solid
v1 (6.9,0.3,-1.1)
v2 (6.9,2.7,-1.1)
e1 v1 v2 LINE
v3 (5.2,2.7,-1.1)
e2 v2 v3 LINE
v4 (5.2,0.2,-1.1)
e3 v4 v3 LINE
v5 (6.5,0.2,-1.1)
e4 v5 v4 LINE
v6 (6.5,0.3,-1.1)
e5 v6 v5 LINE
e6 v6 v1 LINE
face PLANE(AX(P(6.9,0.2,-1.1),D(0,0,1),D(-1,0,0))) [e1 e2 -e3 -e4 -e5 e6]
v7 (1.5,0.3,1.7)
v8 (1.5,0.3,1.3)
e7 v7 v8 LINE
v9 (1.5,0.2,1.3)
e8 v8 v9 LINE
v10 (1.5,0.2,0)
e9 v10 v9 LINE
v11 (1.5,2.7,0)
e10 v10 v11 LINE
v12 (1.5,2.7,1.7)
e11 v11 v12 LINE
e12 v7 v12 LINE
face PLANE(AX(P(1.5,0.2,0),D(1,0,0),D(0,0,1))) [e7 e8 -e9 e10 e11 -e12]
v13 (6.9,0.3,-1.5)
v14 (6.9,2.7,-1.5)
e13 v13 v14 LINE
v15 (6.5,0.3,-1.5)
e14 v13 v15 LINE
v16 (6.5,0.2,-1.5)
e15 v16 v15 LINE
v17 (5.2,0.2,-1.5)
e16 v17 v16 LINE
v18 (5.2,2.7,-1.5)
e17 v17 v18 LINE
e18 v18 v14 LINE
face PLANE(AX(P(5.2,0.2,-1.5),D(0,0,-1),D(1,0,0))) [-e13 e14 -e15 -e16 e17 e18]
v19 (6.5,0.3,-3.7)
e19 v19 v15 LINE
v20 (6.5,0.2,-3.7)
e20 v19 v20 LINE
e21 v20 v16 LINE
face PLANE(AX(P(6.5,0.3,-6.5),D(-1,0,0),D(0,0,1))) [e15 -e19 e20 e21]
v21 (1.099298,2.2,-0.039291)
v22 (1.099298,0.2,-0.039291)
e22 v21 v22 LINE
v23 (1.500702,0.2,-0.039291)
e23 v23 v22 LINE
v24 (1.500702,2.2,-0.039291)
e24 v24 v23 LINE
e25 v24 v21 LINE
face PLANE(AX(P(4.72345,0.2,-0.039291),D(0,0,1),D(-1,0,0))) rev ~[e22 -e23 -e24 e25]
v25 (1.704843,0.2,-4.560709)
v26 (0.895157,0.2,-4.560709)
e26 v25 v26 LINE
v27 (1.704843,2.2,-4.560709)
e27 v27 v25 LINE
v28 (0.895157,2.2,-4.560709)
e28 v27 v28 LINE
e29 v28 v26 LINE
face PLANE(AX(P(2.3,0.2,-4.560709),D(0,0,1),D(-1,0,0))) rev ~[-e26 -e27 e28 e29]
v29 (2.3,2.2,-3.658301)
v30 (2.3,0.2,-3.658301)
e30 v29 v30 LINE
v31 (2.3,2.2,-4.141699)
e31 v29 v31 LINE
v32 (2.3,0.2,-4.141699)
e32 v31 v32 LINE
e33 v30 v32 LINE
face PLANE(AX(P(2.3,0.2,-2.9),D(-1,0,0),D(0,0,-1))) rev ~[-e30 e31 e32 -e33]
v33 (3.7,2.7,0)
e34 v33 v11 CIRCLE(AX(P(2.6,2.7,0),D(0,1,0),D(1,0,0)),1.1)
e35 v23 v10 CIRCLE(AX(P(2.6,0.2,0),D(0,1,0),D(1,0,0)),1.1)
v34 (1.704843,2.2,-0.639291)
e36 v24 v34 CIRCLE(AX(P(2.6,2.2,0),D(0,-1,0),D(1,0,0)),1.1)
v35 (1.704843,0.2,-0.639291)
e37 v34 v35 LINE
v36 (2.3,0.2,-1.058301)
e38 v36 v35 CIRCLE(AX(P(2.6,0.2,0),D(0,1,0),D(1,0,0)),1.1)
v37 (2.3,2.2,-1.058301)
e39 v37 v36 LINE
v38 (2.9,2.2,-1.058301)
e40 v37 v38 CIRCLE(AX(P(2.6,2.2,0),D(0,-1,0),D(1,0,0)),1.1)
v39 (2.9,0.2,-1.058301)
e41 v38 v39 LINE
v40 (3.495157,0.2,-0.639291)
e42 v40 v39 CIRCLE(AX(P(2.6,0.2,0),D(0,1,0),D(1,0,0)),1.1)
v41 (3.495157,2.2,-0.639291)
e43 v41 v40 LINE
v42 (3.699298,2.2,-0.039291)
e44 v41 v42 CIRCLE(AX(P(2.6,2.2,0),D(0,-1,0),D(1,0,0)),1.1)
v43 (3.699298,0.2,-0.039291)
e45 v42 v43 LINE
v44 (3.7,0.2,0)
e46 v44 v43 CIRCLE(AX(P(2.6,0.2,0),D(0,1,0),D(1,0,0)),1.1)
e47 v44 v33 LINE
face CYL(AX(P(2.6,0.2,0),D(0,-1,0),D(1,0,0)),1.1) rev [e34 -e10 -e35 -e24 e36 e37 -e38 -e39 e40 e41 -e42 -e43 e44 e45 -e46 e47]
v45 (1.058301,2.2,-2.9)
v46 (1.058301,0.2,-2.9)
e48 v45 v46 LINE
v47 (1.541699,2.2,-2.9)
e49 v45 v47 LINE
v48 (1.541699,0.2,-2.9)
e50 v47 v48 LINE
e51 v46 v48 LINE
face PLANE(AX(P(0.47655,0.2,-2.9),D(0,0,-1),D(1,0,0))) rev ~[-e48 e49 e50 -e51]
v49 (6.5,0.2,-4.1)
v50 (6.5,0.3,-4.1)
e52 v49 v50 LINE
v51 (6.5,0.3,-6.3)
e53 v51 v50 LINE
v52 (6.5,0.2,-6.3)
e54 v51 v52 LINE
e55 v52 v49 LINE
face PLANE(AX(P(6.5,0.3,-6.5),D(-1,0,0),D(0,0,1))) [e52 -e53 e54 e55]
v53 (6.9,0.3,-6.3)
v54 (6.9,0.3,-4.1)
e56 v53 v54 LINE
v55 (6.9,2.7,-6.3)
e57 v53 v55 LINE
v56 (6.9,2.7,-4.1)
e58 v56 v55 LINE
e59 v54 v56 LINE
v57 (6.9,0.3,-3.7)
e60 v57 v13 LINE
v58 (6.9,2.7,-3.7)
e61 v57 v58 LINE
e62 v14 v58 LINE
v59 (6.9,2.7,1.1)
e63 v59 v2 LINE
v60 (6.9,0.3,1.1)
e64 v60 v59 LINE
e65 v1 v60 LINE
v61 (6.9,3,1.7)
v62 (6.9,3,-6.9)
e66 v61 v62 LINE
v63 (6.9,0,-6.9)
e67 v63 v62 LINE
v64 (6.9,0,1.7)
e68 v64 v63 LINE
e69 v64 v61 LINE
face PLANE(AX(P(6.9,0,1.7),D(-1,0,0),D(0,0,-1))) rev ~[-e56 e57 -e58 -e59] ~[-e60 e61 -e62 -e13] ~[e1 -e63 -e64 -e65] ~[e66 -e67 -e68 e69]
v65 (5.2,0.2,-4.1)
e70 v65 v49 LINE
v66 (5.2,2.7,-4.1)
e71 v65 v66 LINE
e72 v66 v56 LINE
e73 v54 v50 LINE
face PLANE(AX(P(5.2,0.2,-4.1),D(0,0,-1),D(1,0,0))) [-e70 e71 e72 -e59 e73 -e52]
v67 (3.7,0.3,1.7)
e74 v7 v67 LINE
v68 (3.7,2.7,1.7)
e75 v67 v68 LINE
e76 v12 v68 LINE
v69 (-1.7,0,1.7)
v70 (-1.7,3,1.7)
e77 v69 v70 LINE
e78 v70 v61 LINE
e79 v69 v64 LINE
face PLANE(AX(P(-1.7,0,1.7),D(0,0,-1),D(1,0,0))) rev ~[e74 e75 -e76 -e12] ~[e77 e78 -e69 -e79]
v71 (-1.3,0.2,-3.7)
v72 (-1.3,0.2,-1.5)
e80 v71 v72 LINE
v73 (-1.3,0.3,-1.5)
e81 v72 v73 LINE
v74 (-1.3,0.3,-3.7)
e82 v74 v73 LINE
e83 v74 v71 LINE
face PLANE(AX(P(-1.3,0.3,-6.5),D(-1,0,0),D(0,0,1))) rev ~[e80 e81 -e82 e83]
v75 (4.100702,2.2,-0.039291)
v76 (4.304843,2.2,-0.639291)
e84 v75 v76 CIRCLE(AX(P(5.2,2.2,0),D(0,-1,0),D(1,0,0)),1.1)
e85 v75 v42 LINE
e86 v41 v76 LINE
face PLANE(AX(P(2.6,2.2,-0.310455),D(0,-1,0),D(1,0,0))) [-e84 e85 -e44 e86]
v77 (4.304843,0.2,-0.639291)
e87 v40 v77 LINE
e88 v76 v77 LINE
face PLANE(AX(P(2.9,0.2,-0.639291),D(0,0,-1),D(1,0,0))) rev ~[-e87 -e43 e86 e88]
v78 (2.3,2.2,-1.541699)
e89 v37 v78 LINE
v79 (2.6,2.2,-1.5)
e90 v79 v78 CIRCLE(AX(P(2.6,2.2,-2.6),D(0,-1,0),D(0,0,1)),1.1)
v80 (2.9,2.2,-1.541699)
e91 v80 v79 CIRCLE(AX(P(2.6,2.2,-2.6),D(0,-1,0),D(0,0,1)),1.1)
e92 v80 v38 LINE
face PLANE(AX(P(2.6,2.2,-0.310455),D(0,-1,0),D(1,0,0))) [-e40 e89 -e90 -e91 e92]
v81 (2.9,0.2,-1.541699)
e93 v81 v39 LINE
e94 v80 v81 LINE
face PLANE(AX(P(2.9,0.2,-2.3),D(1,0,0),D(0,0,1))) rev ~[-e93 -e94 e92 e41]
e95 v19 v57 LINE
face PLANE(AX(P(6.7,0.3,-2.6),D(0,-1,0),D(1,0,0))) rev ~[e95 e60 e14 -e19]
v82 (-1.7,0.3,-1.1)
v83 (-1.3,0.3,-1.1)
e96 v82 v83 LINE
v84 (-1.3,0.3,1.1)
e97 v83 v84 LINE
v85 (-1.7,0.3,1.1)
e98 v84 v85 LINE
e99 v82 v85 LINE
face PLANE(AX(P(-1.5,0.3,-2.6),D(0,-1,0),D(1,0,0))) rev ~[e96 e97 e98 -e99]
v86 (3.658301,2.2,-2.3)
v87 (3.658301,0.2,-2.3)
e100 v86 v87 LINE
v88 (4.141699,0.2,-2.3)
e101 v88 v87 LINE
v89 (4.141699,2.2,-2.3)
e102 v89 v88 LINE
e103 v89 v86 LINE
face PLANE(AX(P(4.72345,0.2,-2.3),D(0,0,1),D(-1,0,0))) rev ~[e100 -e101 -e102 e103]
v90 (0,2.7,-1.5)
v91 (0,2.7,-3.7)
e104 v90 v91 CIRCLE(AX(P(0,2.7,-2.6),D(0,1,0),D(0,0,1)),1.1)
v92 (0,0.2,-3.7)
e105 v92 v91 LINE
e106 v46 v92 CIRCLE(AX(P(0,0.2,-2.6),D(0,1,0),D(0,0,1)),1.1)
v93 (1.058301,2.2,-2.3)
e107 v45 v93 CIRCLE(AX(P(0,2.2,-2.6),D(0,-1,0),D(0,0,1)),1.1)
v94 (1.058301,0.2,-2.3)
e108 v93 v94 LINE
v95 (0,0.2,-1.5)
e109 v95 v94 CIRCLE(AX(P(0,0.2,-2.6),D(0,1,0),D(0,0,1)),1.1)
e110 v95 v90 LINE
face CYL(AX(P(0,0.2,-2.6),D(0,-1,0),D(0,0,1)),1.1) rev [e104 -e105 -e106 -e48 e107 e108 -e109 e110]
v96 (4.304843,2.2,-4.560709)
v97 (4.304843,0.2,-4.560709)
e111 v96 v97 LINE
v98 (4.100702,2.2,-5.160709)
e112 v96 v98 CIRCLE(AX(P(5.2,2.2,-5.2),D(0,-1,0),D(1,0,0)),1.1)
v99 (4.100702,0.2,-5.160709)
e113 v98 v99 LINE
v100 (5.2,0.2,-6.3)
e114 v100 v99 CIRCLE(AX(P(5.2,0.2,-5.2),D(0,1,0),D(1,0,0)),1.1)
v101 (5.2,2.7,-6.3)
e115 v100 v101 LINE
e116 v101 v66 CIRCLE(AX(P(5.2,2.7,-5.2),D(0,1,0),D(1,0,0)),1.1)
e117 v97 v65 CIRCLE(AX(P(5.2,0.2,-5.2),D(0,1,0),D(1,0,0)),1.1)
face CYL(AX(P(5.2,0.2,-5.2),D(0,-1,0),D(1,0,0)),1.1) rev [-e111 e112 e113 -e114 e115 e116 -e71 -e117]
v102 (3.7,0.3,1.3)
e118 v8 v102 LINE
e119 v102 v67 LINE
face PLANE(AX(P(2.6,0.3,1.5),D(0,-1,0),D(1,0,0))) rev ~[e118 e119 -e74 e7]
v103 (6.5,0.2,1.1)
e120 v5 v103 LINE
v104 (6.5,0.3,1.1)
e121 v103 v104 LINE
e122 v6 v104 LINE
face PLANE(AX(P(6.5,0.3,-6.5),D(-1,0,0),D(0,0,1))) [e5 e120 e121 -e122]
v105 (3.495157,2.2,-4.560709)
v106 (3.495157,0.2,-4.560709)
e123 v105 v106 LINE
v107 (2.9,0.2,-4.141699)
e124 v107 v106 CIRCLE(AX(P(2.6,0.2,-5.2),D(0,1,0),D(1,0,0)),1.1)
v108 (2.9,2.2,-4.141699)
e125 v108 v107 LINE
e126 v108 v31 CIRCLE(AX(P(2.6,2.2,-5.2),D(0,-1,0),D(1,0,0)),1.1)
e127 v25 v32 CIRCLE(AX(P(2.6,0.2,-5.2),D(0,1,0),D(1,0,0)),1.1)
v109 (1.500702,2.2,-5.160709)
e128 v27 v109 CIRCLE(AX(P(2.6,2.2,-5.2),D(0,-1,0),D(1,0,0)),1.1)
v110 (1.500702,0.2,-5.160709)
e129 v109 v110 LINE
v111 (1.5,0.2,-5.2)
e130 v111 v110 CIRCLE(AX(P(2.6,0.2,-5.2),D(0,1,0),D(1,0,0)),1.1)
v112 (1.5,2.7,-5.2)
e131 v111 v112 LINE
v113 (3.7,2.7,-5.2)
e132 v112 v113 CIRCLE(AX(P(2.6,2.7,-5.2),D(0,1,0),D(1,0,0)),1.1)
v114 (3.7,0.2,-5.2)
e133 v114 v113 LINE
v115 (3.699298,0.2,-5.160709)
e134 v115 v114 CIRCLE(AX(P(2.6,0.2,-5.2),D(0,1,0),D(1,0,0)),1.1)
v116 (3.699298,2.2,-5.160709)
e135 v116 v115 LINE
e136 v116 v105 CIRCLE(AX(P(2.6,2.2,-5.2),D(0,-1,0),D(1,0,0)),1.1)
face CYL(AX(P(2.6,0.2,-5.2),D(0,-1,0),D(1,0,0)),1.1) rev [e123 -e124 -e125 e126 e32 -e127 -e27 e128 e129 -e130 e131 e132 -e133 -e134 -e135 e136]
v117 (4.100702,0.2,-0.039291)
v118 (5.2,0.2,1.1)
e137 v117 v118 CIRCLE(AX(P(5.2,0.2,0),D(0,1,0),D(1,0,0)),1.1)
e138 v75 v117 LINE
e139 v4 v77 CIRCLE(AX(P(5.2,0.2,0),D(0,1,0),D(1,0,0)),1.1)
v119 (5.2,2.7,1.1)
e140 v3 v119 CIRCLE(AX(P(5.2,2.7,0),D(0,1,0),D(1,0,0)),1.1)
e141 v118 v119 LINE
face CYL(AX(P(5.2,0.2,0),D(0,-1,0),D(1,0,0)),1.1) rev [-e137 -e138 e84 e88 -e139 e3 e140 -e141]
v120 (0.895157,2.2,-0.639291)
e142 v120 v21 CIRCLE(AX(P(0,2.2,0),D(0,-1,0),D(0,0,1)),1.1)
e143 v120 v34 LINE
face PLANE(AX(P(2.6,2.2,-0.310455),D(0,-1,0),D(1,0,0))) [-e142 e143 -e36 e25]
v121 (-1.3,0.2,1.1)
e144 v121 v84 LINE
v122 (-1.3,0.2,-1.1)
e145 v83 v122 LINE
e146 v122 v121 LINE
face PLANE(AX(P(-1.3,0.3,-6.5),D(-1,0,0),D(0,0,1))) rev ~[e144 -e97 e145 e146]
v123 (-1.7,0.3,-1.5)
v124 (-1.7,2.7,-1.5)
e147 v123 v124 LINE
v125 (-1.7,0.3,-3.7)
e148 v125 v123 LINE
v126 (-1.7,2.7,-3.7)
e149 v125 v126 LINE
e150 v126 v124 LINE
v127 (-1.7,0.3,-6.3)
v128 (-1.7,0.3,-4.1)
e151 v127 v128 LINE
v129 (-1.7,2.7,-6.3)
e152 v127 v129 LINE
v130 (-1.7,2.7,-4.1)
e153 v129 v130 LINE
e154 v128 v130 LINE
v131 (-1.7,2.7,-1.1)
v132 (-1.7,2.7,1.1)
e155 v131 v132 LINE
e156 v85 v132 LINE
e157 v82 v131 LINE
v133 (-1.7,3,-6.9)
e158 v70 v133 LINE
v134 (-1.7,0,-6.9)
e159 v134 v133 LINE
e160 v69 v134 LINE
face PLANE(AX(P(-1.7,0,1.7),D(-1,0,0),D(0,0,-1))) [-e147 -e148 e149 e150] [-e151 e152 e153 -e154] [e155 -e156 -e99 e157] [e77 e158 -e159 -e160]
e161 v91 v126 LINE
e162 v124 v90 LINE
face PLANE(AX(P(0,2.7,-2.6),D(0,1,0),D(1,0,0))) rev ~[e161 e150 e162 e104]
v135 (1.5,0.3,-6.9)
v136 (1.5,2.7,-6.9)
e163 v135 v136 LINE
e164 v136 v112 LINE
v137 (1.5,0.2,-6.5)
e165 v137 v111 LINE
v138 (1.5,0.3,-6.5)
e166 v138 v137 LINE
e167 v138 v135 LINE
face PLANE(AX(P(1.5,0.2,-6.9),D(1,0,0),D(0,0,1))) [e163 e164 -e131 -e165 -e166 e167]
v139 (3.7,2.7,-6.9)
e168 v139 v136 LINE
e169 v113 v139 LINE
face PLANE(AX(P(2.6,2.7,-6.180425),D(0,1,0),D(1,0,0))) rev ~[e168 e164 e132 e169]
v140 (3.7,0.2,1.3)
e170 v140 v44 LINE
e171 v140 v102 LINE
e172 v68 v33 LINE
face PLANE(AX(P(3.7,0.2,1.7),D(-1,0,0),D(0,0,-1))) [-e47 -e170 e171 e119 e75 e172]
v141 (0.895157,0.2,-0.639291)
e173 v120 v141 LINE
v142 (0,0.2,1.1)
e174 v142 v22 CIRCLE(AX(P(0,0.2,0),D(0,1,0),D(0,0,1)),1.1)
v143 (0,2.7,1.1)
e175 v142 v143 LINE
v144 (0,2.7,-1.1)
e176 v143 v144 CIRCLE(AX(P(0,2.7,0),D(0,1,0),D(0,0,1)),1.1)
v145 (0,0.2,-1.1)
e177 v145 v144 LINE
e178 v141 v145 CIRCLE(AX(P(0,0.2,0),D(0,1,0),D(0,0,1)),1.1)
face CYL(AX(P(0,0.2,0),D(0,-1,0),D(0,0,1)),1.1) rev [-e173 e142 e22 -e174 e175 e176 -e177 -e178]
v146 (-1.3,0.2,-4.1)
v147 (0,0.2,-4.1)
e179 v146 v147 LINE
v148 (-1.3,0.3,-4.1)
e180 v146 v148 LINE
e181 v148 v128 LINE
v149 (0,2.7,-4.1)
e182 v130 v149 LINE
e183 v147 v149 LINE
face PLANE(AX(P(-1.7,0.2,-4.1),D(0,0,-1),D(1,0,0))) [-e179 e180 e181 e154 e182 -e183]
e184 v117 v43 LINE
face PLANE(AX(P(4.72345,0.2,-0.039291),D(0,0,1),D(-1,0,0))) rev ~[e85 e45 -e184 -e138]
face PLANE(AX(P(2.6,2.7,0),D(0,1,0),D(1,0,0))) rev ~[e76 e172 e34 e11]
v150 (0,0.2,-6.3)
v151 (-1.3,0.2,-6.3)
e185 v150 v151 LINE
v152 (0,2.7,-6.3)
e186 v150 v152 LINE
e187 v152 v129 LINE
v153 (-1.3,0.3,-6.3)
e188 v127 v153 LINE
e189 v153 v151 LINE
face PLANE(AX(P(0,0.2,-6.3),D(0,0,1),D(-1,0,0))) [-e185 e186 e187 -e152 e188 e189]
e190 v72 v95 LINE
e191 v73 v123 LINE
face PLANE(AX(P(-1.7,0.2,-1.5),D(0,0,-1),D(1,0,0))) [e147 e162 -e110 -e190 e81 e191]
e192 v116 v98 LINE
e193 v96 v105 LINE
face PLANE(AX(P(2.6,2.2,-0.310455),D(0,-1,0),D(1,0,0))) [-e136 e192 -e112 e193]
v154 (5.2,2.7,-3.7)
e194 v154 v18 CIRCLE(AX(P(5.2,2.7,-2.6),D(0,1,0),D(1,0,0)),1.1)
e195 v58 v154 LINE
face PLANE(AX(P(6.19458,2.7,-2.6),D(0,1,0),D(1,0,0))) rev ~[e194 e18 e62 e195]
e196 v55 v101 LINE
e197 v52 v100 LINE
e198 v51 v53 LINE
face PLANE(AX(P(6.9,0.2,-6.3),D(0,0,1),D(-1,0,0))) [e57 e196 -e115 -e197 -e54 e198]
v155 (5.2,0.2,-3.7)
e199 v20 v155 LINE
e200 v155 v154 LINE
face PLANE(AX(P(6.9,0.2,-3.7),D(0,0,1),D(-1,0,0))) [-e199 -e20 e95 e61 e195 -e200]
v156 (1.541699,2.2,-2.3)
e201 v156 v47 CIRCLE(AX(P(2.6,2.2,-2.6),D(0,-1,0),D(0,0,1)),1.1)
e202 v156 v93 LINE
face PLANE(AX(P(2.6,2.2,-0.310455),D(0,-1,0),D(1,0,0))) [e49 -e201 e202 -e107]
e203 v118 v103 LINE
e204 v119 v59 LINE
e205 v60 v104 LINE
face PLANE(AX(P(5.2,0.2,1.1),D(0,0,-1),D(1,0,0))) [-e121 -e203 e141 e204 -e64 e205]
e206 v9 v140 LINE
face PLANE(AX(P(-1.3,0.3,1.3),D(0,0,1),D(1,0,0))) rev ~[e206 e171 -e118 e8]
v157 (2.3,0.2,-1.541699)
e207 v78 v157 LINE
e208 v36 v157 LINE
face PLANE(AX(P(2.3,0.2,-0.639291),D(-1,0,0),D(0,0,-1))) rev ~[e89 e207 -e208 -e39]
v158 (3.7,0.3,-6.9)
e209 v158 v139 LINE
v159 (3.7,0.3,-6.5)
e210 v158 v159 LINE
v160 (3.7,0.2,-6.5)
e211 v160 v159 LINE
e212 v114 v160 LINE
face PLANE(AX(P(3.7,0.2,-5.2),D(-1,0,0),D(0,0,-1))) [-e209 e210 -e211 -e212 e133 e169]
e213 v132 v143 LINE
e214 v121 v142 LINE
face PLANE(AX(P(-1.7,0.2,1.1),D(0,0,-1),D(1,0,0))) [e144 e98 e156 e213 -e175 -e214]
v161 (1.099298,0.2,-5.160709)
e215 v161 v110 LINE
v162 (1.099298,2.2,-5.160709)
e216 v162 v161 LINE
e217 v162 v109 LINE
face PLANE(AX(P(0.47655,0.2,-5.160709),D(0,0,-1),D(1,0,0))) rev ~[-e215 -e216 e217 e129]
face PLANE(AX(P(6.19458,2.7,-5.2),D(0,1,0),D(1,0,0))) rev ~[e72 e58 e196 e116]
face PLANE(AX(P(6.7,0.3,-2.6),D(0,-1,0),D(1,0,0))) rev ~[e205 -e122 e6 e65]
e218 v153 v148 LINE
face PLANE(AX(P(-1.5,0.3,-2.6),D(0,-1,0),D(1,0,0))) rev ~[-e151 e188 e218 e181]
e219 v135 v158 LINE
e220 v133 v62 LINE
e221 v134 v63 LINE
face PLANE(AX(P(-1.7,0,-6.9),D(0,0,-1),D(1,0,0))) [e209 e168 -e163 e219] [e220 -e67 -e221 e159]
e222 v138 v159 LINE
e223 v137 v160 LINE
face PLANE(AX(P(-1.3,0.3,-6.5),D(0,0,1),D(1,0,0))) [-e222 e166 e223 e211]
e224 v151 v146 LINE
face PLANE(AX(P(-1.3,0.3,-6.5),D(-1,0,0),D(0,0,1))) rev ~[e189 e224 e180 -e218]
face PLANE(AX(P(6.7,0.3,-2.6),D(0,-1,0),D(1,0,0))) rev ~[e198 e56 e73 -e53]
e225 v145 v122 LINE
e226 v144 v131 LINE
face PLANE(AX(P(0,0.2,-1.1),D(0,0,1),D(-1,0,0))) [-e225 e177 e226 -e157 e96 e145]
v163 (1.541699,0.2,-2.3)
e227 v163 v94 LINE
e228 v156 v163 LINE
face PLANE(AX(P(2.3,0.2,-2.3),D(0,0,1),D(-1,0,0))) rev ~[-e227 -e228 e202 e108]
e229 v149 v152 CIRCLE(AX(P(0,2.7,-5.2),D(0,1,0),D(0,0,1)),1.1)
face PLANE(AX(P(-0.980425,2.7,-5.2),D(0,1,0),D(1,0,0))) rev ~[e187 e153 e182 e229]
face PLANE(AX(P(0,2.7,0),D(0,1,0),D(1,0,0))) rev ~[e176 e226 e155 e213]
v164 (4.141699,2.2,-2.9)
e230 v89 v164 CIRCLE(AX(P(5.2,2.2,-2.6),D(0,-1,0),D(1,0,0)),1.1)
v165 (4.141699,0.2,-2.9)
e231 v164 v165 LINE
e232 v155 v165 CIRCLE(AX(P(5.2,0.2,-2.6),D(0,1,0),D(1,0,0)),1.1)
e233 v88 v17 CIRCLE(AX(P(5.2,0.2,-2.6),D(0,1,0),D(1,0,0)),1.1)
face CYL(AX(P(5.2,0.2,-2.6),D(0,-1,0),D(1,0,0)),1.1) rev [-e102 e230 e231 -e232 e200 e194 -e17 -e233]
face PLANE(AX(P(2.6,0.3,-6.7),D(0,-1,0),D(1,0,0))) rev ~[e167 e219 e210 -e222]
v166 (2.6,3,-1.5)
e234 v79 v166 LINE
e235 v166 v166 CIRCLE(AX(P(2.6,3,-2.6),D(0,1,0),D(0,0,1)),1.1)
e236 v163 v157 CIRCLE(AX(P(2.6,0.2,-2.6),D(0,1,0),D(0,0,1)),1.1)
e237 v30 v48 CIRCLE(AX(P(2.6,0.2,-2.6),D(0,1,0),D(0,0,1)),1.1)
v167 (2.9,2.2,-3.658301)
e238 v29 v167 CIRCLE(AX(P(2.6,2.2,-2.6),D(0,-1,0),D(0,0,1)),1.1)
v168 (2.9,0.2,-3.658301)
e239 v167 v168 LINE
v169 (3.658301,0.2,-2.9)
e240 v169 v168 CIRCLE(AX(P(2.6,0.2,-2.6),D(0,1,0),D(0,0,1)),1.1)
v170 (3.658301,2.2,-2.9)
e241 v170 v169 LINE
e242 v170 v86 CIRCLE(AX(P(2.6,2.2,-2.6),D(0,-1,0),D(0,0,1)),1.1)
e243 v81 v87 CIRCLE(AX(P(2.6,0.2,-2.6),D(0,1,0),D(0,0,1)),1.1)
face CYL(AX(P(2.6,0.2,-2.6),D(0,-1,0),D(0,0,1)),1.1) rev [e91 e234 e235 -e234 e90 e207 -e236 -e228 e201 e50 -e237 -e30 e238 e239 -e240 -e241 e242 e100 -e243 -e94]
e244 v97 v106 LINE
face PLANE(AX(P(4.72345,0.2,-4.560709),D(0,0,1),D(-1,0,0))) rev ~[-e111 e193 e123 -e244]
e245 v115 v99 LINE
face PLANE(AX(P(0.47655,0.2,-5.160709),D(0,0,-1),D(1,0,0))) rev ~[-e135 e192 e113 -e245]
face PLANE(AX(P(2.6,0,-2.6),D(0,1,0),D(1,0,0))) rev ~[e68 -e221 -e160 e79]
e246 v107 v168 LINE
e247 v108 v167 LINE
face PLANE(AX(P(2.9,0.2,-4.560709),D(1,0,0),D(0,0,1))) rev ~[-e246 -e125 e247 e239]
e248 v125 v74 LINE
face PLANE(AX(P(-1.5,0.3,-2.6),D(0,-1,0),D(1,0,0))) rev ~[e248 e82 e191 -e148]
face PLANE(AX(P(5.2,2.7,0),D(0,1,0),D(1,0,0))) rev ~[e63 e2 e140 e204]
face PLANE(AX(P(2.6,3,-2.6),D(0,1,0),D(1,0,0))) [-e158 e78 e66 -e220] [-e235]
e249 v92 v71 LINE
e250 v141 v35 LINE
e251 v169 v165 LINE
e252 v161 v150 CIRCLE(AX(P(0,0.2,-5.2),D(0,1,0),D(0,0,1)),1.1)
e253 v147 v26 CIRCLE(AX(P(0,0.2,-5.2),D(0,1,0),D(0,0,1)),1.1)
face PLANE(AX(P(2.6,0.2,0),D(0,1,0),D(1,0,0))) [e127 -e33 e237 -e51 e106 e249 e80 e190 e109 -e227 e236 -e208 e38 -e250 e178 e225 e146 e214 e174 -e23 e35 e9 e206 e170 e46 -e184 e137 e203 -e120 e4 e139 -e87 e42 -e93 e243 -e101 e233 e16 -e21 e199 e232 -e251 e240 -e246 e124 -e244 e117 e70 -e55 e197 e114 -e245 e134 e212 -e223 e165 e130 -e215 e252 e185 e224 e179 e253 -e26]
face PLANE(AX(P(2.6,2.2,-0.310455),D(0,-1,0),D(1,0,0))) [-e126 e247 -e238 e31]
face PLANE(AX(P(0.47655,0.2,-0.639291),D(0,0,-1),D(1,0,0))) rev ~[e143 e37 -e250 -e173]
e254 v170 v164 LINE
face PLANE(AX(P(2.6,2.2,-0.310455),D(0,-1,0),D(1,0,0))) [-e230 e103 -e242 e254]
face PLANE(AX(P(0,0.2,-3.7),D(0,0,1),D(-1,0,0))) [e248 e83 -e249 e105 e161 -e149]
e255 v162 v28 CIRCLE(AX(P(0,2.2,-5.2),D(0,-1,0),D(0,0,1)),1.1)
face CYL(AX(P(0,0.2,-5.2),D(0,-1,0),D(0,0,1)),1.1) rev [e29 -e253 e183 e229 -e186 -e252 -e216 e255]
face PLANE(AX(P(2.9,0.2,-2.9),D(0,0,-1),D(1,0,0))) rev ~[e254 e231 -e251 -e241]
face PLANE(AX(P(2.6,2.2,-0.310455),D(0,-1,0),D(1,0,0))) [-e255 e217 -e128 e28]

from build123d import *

# Parameters (mm, degrees)
SKETCH1_W           = 8.6
SKETCH1_H           = 8.6
BOSS_EXTRUDE1_DEPTH = 3
CUT_EXTRUDE1_START  = 0.2
SKETCH1_14_R        = 1.1
CUT_EXTRUDE1_DEPTH  = 2.5
CUT_EXTRUDE2_START  = 0.2
SKETCH1_15_R        = 1.1
CUT_EXTRUDE2_DEPTH  = 2.8
BOSS_EXTRUDE2_START = -0.3
SKETCH2_W           = 7.8
SKETCH2_H           = 0.4
SKETCH2_W_2         = 0.4
SKETCH2_H_2         = 7.8
BOSS_EXTRUDE2_DEPTH = 0.1
CUT_EXTRUDE3_START  = -0.2
SKETCH3_W           = 0.6
SKETCH3_H           = 0.162741788
SKETCH3_H_2         = 0.6
CUT_EXTRUDE3_DEPTH  = 2


with BuildPart() as part:
    # Sketch1 → Boss-Extrude1 (new body)
    with BuildSketch(Plane(origin=(0, 0, 0), x_dir=(1, 0, 0), z_dir=(0, 1, 0))):
        with Locations((2.6, 2.6)):
            Rectangle(SKETCH1_W, SKETCH1_H)
    extrude(amount=BOSS_EXTRUDE1_DEPTH)

    # Sketch1<14> → Cut-Extrude1 (cut)
    with BuildSketch(Plane(origin=(0, 0, 0), x_dir=(1, 0, 0), z_dir=(0, 1, 0)).offset(CUT_EXTRUDE1_START)):
        Circle(SKETCH1_14_R)
        with BuildLine():
            Line((0, 1.1), (-1.7, 1.1))
            Line((-1.7, 1.1), (-1.7, -1.1))
            Line((-1.7, -1.1), (-0.1, -1.1))
            Line((-0.1, -1.1), (0, -1.1))
            ThreePointArc((0, -1.1), (-1.1, 0), (0, 1.1))
        make_face()
        with Locations((2.6, 0)):
            Circle(SKETCH1_14_R)
        with BuildLine():
            Line((1.5, -1.7), (3.7, -1.7))
            Line((3.7, -1.7), (3.7, 0))
            ThreePointArc((3.7, 0), (2.6, -1.1), (1.5, 0))
            Line((1.5, 0), (1.5, -1.7))
        make_face()
        with Locations((5.2, 0)):
            Circle(SKETCH1_14_R)
        with BuildLine():
            Line((6.9, -1.1), (6.9, 1.1))
            Line((6.9, 1.1), (5.2, 1.1))
            ThreePointArc((5.2, 1.1), (5.977817459, 0.777817459), (6.3, 0))
            ThreePointArc((6.3, 0), (5.977817459, -0.777817459), (5.2, -1.1))
            Line((5.2, -1.1), (6.9, -1.1))
        make_face()
        with BuildLine():
            Line((6.9, 1.5), (6.9, 3.7))
            Line((6.9, 3.7), (5.2, 3.7))
            ThreePointArc((5.2, 3.7), (5.977817459, 3.377817459), (6.3, 2.6))
            ThreePointArc((6.3, 2.6), (5.977817459, 1.822182541), (5.2, 1.5))
            Line((5.2, 1.5), (6.9, 1.5))
        make_face()
        with Locations((5.2, 2.6)):
            Circle(SKETCH1_14_R)
        with BuildLine():
            Line((6.9, 4.1), (6.9, 6.3))
            Line((6.9, 6.3), (5.2, 6.3))
            ThreePointArc((5.2, 6.3), (5.977817459, 5.977817459), (6.3, 5.2))
            ThreePointArc((6.3, 5.2), (5.977817459, 4.422182541), (5.2, 4.1))
            Line((5.2, 4.1), (6.9, 4.1))
        make_face()
        with Locations((5.2, 5.2)):
            Circle(SKETCH1_14_R)
        with BuildLine():
            Line((3.7, 5.2), (3.7, 6.9))
            Line((3.7, 6.9), (1.5, 6.9))
            Line((1.5, 6.9), (1.5, 5.2))
            ThreePointArc((1.5, 5.2), (2.6, 6.3), (3.7, 5.2))
        make_face()
        with Locations((2.6, 5.2)):
            Circle(SKETCH1_14_R)
        with Locations((0, 2.6)):
            Circle(SKETCH1_14_R)
        with BuildLine():
            Line((0, 3.7), (-1.7, 3.7))
            Line((-1.7, 3.7), (-1.7, 1.5))
            Line((-1.7, 1.5), (0, 1.5))
            ThreePointArc((0, 1.5), (-1.1, 2.6), (0, 3.7))
        make_face()
        with BuildLine():
            Line((-0.9, 6.3), (-1.7, 6.3))
            Line((-1.7, 6.3), (-1.7, 4.1))
            Line((-1.7, 4.1), (0, 4.1))
            ThreePointArc((0, 4.1), (-1.1, 5.2), (0, 6.3))
            Line((0, 6.3), (-0.9, 6.3))
        make_face()
        with Locations((0, 5.2)):
            Circle(SKETCH1_14_R)
    extrude(amount=CUT_EXTRUDE1_DEPTH, mode=Mode.SUBTRACT)

    # Sketch1<15> → Cut-Extrude2 (cut)
    with BuildSketch(Plane(origin=(0, 0, 0), x_dir=(1, 0, 0), z_dir=(0, 1, 0)).offset(CUT_EXTRUDE2_START)):
        with Locations(Location((2.6, 2.6, 0), (0, 0, 270))):
            Circle(SKETCH1_15_R)
    extrude(amount=CUT_EXTRUDE2_DEPTH, mode=Mode.SUBTRACT)

    # Sketch2 → Boss-Extrude2 (add)
    with BuildSketch(Plane.XZ.offset(BOSS_EXTRUDE2_START)):
        with Locations((2.6, 1.5)):
            Rectangle(SKETCH2_W, SKETCH2_H)
        with Locations((-1.5, -2.6)):
            Rectangle(SKETCH2_W_2, SKETCH2_H_2)
        with Locations((2.6, -6.7)):
            Rectangle(SKETCH2_W, SKETCH2_H)
        with Locations((6.7, -2.6)):
            Rectangle(SKETCH2_W_2, SKETCH2_H_2)
    extrude(amount=BOSS_EXTRUDE2_DEPTH)

    # Sketch3 → Cut-Extrude3 (cut)
    with BuildSketch(Plane.XZ.offset(CUT_EXTRUDE3_START)):
        Polygon((0.476549662, -0.03929145), (0.476549662, -0.591206698), (0.874813971, -0.246872241), (1.214094825, -0.63929145), (2.3, -0.63929145), (2.3, -0.476549662), (2.9, -0.476549662), (2.9, -0.63929145), (3.985905175, -0.63929145), (4.325186029, -0.246872241), (4.723450338, -0.591206698), (4.723450338, -0.03929145), align=None)
        with Locations((2.6, -0.557920556)):
            Rectangle(SKETCH3_W, SKETCH3_H)
        Polygon((0.874813971, -0.246872241), (0.476549662, -0.591206698), (0.476549662, -0.63929145), (1.214094825, -0.63929145), align=None)
        Polygon((4.325186029, -0.246872241), (3.985905175, -0.63929145), (4.723450338, -0.63929145), (4.723450338, -0.591206698), align=None)
        Polygon((3.343237824, -2.3), (2.9, -2.3), (2.9, -2.9), (3.304728308, -2.9), (4.723450338, -2.9), (4.723450338, -2.3), align=None)
        with Locations((2.6, -2.6)):
            Rectangle(SKETCH3_W, SKETCH3_H_2)
        Polygon((2.3, -2.3), (1.856762176, -2.3), (0.476549662, -2.3), (0.476549662, -2.9), (1.856762176, -2.9), (2.3, -2.9), align=None)
        Polygon((2.9, -2.9), (2.3, -2.9), (2.3, -3.304728308), (2.3, -4.56070855), (2.9, -4.56070855), (2.9, -3.343237824), align=None)
        Polygon((2.3, -1.895271692), (2.3, -2.3), (2.9, -2.3), (2.9, -1.895271692), (2.9, -0.63929145), (2.3, -0.63929145), align=None)
        with Locations((2.6, -4.642079444)):
            Rectangle(SKETCH3_W, SKETCH3_H)
        Polygon((2.3, -4.723450338), (2.3, -4.56070855), (1.214094825, -4.56070855), (0.874813971, -4.953127759), (0.476549662, -4.608793302), (0.476549662, -5.16070855), (4.723450338, -5.16070855), (4.723450338, -4.590835654), (4.56070855, -4.779066151), (4.308151662, -4.56070855), (2.9, -4.56070855), (2.9, -4.723450338), align=None)
        Polygon((0.874813971, -4.953127759), (1.214094825, -4.56070855), (0.476549662, -4.56070855), (0.476549662, -4.608793302), align=None)
        Polygon((4.723450338, -4.56070855), (4.308151662, -4.56070855), (4.56070855, -4.779066151), (4.723450338, -4.590835654), align=None)
    extrude(amount=-CUT_EXTRUDE3_DEPTH, mode=Mode.SUBTRACT)


solid = part.part
